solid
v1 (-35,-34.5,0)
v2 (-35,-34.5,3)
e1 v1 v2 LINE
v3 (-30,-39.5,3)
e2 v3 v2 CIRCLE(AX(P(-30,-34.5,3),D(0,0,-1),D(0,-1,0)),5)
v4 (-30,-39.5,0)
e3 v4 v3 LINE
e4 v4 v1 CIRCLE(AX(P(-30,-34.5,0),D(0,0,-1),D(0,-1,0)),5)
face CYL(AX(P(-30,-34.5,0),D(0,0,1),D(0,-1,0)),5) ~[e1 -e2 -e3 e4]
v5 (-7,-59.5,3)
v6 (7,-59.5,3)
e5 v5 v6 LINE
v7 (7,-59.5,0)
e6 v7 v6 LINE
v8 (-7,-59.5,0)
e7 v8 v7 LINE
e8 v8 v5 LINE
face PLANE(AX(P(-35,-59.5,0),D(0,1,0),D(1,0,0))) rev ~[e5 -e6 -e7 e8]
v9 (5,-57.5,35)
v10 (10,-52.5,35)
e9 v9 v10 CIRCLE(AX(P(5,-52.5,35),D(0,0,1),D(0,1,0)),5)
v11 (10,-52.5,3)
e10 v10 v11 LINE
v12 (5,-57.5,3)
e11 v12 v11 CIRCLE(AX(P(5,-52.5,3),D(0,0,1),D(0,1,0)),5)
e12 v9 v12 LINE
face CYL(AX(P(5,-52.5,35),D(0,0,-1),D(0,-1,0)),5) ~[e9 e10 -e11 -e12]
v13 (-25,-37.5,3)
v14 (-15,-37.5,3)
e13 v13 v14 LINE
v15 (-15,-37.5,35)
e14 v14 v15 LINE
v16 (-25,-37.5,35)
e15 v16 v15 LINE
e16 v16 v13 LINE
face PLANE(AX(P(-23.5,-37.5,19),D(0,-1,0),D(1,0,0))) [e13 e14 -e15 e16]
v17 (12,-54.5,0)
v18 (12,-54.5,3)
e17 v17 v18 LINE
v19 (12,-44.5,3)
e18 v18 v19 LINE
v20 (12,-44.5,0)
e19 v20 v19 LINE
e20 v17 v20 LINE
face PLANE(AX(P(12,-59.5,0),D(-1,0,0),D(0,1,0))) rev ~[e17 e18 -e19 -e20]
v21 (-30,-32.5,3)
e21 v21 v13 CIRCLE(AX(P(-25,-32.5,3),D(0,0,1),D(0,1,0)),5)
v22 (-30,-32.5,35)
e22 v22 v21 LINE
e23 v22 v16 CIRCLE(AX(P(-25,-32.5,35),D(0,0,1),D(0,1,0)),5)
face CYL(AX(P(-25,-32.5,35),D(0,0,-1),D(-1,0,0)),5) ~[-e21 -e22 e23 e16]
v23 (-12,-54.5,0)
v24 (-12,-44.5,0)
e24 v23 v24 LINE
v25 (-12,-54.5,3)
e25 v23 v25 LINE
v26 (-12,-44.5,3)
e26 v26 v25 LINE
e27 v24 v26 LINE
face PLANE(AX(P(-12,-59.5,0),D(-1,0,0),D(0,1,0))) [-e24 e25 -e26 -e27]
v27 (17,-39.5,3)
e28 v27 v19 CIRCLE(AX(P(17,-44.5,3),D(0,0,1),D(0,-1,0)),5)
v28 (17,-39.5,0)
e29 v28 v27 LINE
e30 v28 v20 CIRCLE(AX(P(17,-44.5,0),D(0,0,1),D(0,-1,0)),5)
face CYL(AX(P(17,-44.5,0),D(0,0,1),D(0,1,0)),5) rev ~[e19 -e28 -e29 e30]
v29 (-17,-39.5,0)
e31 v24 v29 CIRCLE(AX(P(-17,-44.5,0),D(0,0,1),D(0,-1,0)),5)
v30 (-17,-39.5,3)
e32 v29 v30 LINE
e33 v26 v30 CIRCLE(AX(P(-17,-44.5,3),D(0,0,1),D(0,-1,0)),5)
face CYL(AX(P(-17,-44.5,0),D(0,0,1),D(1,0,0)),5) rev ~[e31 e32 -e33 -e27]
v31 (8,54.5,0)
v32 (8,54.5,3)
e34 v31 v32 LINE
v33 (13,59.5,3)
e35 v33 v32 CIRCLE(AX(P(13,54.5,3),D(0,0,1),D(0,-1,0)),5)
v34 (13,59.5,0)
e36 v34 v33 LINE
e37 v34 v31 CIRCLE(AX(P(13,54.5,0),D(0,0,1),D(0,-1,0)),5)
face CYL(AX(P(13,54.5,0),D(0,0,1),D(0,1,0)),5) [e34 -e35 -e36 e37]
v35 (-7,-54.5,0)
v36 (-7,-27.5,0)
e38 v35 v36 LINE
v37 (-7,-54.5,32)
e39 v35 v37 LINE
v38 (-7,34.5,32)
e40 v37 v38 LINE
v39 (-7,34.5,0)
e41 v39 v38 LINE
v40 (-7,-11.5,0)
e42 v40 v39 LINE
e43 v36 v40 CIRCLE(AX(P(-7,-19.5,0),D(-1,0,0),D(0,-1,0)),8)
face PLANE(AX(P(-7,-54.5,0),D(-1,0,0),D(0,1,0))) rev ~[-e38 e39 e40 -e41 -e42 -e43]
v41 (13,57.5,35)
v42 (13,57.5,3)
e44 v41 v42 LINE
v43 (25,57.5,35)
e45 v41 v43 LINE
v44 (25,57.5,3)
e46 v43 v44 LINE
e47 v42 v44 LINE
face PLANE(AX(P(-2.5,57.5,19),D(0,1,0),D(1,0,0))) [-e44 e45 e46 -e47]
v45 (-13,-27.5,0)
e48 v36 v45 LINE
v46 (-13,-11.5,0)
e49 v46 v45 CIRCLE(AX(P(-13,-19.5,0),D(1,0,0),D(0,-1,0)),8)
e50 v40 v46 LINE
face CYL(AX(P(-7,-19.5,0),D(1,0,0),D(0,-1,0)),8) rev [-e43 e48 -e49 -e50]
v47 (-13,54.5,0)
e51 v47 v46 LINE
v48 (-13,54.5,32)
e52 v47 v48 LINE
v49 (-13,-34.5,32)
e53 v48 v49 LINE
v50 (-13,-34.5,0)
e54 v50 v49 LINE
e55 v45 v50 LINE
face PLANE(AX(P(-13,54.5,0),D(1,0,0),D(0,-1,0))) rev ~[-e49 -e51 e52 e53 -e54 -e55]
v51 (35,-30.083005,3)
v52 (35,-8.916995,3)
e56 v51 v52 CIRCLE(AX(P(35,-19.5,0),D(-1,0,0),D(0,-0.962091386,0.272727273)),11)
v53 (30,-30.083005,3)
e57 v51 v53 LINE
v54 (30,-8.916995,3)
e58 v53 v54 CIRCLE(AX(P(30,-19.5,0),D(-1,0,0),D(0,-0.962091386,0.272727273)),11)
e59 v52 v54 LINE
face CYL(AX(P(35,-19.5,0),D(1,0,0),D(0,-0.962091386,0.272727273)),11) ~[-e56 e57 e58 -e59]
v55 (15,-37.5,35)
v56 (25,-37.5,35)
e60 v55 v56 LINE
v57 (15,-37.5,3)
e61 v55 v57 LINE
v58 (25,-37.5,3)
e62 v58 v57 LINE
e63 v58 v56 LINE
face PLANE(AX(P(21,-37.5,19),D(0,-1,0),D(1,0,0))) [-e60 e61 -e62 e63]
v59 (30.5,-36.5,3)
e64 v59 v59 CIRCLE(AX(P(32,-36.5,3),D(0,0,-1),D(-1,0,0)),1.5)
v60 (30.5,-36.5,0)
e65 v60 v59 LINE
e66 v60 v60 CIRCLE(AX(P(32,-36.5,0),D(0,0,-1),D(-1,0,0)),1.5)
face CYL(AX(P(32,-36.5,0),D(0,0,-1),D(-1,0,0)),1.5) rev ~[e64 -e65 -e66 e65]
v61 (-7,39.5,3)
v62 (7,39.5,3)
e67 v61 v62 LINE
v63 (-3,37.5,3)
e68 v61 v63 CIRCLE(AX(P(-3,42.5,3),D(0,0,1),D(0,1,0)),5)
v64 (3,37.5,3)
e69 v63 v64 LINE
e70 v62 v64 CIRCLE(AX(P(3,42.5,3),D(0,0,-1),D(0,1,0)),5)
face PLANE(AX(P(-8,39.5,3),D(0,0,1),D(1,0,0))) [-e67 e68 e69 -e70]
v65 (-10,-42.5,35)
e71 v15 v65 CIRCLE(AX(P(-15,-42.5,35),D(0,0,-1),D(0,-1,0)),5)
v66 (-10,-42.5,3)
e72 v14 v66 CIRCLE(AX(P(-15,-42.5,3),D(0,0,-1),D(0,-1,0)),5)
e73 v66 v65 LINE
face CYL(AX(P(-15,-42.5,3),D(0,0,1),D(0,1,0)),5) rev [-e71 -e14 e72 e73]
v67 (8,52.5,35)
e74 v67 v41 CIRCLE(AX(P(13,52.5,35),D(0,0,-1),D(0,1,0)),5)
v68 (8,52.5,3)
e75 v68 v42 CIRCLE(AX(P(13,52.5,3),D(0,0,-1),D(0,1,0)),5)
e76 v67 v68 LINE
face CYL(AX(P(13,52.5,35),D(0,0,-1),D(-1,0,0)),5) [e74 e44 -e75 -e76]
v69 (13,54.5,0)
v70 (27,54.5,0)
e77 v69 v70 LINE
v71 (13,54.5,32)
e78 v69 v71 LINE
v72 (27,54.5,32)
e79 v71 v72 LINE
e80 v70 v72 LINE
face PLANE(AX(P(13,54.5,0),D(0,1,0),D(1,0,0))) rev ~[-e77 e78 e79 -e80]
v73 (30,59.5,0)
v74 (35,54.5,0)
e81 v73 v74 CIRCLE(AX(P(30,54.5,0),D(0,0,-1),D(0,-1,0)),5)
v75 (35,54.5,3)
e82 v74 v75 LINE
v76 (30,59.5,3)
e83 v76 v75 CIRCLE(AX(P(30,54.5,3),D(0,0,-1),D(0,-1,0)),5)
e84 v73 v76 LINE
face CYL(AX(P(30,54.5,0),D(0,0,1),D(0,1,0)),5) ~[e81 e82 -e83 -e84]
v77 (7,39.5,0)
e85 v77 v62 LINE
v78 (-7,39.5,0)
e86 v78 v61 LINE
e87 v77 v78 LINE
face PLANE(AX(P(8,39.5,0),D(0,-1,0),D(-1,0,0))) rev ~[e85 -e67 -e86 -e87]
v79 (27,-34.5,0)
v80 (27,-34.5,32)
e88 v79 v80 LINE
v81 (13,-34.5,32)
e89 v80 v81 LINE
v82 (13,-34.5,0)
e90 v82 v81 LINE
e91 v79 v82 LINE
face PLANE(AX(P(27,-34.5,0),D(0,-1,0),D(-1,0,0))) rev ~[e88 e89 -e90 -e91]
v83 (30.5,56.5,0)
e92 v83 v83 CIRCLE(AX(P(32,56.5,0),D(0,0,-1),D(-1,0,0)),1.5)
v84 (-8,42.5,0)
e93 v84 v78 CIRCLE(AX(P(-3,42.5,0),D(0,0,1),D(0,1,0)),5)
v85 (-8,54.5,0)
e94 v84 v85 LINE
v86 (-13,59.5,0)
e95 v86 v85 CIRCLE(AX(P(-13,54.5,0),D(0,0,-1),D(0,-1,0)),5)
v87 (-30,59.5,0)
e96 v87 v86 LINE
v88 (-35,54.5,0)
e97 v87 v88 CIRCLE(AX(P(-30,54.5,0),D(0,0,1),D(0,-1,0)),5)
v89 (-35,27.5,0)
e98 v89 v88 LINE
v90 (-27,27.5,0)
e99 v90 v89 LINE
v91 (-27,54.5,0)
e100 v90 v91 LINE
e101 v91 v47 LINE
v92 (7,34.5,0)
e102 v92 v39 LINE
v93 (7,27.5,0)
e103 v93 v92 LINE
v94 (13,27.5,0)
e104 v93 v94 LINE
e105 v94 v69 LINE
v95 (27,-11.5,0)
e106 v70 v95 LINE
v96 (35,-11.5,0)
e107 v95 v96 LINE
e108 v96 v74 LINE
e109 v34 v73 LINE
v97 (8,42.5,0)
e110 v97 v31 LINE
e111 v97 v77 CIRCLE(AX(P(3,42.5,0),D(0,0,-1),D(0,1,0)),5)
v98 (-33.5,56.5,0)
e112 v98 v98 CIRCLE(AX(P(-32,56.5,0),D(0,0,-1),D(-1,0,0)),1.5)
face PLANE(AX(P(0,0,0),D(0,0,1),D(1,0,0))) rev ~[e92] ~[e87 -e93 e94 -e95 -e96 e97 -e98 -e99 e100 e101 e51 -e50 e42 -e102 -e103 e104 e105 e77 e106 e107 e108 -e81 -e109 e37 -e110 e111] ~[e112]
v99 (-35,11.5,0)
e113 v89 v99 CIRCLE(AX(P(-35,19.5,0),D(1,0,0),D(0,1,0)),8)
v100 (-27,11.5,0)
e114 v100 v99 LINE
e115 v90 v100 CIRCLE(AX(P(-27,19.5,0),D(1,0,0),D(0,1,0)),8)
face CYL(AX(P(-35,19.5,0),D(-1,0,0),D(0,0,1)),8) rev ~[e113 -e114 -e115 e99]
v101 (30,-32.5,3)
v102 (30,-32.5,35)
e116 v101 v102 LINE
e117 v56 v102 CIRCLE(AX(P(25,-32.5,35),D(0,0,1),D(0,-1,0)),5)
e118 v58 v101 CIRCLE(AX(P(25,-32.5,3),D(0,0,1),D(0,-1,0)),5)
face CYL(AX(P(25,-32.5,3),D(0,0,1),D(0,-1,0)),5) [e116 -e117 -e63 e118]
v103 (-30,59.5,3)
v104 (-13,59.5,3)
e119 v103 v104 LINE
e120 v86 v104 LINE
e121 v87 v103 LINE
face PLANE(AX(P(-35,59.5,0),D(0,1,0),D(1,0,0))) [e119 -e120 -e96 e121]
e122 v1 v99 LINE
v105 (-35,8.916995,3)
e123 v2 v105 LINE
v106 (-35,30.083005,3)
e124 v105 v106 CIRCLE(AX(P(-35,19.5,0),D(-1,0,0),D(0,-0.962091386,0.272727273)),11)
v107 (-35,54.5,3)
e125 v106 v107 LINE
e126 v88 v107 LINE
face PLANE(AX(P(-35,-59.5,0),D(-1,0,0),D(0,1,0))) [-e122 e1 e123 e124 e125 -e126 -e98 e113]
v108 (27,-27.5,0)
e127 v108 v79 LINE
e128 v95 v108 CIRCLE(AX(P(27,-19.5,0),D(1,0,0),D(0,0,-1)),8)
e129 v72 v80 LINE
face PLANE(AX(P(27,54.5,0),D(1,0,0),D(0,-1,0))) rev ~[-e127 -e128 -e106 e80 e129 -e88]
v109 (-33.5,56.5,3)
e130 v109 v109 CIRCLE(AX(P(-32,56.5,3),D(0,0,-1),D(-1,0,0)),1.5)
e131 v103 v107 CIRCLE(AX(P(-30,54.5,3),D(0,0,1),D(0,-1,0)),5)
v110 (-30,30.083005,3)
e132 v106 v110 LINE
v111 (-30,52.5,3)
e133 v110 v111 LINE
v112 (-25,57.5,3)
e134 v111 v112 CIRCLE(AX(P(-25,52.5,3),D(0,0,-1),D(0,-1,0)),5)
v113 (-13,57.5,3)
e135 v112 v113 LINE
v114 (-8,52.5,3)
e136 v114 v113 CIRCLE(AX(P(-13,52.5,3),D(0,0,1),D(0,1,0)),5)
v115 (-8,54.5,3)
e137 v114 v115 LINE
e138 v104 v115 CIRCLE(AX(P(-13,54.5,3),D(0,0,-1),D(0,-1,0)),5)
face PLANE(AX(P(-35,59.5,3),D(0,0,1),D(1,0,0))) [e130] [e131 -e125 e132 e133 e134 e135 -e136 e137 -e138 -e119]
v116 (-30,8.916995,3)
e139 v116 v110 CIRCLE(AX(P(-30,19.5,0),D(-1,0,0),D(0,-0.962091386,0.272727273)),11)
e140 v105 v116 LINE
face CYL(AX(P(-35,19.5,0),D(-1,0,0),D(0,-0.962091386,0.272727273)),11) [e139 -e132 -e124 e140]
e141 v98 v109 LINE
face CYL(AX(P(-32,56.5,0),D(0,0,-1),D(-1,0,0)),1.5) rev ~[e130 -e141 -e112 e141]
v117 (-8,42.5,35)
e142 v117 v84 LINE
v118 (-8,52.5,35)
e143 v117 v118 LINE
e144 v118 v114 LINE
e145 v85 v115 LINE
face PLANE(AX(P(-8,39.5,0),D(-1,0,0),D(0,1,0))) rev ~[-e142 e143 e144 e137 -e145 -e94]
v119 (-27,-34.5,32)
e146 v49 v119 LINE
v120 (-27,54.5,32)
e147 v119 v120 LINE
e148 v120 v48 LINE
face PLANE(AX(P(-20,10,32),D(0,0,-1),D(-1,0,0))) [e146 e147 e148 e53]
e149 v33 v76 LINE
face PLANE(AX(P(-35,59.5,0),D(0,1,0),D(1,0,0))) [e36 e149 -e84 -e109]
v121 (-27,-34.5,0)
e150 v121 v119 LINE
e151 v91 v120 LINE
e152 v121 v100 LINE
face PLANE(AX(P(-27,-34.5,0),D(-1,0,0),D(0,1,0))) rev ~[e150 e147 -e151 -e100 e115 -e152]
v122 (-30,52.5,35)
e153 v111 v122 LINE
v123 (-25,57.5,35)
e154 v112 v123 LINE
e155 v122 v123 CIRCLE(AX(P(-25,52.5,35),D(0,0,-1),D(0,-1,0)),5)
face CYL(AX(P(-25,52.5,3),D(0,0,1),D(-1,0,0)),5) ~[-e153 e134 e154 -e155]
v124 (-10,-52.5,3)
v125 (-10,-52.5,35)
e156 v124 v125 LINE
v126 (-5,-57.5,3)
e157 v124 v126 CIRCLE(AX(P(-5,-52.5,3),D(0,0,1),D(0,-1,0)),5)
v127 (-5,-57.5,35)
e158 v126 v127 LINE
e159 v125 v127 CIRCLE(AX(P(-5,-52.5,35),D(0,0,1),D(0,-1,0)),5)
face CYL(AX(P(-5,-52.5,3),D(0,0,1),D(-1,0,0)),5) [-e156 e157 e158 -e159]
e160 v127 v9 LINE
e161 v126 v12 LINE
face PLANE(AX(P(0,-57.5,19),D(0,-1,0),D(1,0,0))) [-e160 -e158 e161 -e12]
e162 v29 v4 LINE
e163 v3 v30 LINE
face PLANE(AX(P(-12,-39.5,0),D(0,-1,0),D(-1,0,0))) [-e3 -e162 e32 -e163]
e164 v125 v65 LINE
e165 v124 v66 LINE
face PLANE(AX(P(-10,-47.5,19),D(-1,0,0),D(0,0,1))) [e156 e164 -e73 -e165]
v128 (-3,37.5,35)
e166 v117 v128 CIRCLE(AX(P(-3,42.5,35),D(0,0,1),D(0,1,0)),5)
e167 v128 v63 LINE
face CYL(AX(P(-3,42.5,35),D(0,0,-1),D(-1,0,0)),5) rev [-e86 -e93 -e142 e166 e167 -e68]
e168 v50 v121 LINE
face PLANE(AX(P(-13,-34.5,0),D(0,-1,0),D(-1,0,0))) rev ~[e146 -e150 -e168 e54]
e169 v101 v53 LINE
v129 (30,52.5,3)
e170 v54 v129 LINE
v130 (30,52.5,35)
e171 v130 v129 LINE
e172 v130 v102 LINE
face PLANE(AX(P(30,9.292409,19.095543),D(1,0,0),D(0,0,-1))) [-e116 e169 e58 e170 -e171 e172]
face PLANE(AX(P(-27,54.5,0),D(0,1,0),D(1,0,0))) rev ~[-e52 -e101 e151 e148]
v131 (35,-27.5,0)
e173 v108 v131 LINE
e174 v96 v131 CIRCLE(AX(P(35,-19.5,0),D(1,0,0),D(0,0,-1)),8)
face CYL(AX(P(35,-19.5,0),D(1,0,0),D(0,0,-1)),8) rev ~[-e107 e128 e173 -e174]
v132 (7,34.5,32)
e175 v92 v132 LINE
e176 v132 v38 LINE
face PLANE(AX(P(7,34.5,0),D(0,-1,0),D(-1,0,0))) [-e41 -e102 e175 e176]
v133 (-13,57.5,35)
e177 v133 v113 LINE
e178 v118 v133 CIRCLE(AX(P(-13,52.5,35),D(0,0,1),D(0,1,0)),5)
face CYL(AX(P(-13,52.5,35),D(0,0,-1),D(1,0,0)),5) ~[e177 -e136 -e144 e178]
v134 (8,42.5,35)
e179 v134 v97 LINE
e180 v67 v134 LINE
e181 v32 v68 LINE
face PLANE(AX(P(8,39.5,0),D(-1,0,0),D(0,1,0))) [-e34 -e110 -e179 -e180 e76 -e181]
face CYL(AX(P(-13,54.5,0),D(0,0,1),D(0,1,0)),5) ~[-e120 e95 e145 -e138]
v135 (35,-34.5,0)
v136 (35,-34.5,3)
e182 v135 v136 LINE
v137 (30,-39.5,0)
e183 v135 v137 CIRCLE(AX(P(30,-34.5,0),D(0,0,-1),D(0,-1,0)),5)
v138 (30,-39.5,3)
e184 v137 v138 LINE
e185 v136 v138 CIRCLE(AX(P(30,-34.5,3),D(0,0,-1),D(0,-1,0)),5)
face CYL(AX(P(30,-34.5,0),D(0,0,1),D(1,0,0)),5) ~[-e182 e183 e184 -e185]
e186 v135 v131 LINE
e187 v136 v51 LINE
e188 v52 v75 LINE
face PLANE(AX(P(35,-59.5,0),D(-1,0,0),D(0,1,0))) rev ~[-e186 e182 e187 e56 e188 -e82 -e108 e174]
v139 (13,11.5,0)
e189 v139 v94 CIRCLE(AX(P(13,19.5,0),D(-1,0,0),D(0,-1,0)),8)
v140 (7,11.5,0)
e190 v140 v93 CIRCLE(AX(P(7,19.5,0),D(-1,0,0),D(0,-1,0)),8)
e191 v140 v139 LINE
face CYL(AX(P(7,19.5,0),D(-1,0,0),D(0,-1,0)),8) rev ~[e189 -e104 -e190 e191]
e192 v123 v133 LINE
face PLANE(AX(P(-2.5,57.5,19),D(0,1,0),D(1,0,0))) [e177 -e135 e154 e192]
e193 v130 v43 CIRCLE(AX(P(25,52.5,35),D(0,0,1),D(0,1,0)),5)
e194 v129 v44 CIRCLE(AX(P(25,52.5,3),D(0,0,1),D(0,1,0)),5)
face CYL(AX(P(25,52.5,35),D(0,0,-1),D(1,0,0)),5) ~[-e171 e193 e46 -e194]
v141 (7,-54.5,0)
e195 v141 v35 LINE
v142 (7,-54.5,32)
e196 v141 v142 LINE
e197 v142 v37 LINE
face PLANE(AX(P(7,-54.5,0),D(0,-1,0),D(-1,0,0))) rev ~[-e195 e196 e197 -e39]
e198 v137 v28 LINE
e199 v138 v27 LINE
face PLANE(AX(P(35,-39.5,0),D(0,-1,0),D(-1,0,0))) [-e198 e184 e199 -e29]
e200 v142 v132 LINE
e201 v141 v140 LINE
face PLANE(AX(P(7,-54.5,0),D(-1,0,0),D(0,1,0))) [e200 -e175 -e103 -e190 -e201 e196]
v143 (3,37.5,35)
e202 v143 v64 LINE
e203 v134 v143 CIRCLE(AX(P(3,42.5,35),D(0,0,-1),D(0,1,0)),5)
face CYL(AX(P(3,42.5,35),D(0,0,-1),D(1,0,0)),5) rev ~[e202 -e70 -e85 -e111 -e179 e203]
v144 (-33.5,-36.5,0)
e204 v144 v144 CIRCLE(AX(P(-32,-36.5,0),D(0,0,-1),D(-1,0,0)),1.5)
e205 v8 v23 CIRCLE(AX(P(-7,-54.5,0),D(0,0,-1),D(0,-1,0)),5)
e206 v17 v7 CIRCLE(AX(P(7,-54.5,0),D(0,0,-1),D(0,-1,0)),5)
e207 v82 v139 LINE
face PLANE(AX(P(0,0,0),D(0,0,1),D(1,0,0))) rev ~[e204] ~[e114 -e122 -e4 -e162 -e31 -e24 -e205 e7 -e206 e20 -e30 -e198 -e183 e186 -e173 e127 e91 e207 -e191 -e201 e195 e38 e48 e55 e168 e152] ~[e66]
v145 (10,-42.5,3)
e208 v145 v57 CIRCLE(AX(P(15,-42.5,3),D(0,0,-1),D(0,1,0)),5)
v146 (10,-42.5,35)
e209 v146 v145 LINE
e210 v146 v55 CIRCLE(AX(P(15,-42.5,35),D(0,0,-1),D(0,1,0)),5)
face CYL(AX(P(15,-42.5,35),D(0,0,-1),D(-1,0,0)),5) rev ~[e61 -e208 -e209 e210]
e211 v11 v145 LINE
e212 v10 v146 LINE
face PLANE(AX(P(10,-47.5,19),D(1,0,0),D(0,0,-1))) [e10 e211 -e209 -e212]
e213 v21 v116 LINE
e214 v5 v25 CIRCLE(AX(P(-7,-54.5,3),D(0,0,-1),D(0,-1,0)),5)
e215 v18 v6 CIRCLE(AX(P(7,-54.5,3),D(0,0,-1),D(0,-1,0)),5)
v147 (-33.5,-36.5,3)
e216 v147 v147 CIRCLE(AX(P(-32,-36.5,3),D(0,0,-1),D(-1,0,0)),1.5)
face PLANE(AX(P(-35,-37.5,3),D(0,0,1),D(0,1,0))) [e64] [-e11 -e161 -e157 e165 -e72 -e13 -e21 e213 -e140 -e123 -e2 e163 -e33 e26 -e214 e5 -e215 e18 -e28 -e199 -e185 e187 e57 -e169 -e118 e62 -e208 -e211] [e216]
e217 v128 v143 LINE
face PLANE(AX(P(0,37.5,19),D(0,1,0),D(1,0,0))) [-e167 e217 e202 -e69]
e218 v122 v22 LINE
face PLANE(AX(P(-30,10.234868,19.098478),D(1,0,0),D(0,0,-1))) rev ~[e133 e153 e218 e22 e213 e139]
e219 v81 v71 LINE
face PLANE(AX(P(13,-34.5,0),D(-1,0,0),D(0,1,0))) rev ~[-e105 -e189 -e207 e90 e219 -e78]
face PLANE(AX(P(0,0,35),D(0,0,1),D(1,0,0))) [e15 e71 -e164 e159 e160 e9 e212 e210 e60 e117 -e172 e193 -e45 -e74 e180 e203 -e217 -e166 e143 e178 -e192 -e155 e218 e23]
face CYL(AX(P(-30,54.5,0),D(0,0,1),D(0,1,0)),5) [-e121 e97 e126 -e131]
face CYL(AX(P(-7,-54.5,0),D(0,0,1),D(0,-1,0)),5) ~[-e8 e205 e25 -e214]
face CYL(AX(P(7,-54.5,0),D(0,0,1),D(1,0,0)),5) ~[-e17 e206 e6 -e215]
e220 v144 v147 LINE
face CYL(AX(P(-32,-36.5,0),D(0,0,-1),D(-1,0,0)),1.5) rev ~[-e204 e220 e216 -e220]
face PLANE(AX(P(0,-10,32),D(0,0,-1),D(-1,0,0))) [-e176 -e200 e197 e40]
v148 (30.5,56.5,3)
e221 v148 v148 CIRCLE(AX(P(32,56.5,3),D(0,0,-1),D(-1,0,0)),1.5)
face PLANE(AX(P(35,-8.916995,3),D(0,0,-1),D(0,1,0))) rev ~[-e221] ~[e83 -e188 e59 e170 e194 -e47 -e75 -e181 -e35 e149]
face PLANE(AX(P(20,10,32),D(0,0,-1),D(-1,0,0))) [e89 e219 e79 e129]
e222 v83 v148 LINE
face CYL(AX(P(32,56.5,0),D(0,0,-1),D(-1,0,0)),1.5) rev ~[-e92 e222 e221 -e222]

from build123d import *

# Parameters (mm, degrees)
SKETCH1_W           = 70
SKETCH1_H           = 119
BOSS_EXTRUDE1_DEPTH = 35
SKETCH2_R           = 8
CUT_EXTRUDE1_DEPTH  = 8
SKETCH3_R           = 8
CUT_EXTRUDE2_DEPTH  = 8
SKETCH4_W           = 14
SKETCH4_H           = 89
CUT_EXTRUDE3_DEPTH  = 32
CUT_EXTRUDE4_REACH  = 82.804
CUT_EXTRUDE5_REACH  = 82.804
SKETCH7_W           = 23
SKETCH7_H           = 20
SKETCH7_W_2         = 16
CUT_EXTRUDE7_DEPTH  = 78.396705356
CUT_EXTRUDE8_DEPTH  = 5
SKETCH12_W          = 18
SKETCH12_H          = 32
CUT_EXTRUDE9_DEPTH  = 2
SKETCH13_W          = 24
SKETCH13_H          = 32
CUT_EXTRUDE10_DEPTH = 2
SKETCH14_W          = 23
SKETCH14_H          = 32
CUT_EXTRUDE11_DEPTH = 2
SKETCH15_W          = 32
SKETCH15_H          = 20
CUT_EXTRUDE12_DEPTH = 2
SKETCH16_W          = 32
SKETCH16_H          = 20
CUT_EXTRUDE13_DEPTH = 2
SKETCH17_W          = 65
SKETCH17_H          = 32
CUT_EXTRUDE15_DEPTH = 2
SKETCH18_W          = 16
SKETCH18_H          = 32
CUT_EXTRUDE16_DEPTH = 2
CUT_EXTRUDE17_DEPTH = 5
SKETCH21_R          = 1.5
CUT_EXTRUDE18_DEPTH = 10
FILLET1_R           = 5
FILLET2_R           = 5


with BuildPart() as part:
    # Sketch1 → Boss-Extrude1 (new body)
    with BuildSketch(Plane.XY):
        Rectangle(SKETCH1_W, SKETCH1_H)
    extrude(amount=BOSS_EXTRUDE1_DEPTH)

    # Sketch2 → Cut-Extrude1 (cut)
    with BuildSketch(Plane(origin=(35, 0, 0), x_dir=(0, 0, -1), z_dir=(1, 0, 0))):
        with Locations((0, -19.5)):
            Circle(SKETCH2_R)
    extrude(amount=-CUT_EXTRUDE1_DEPTH, mode=Mode.SUBTRACT)

    # Sketch3 → Cut-Extrude2 (cut)
    with BuildSketch(Plane.ZY.offset(35)):
        with Locations((0, 19.5)):
            Circle(SKETCH3_R)
    extrude(amount=-CUT_EXTRUDE2_DEPTH, mode=Mode.SUBTRACT)

    # Sketch4 → Cut-Extrude3 (cut)
    with BuildSketch(Plane(origin=(0, 0, 0), x_dir=(-1, 0, 0), z_dir=(0, 0, -1))):
        Polygon((-13, -34.5), (-13, 54.5), (-27, 54.5), (-27, -11.5), (-27, -27.5), (-27, -34.5), align=None)
        with Locations((0, -10)):
            Rectangle(SKETCH4_W, SKETCH4_H)
        Polygon((27, 54.5), (13, 54.5), (13, -34.5), (27, -34.5), (27, 11.5), (27, 27.5), align=None)
    extrude(amount=-CUT_EXTRUDE3_DEPTH, mode=Mode.SUBTRACT)

    # Sketch5 → Cut-Extrude4 (cut, up to next)
    with BuildSketch(Plane.ZY.offset(-7), mode=Mode.PRIVATE) as cut_extrude4_sk1:
        with BuildLine():
            Line((0, 27.5), (0, 11.5))
            ThreePointArc((0, 11.5), (8, 19.5), (0, 27.5))
        make_face()
    cut_extrude4_tool1 = extrude(cut_extrude4_sk1.sketch, amount=-CUT_EXTRUDE4_REACH, mode=Mode.PRIVATE) & part.part
    add(cut_extrude4_tool1.solids().sort_by_distance((7, 19.5, 3.395305))[0], mode=Mode.SUBTRACT)

    # Sketch6 → Cut-Extrude5 (cut, up to next)
    with BuildSketch(Plane(origin=(-7, 0, 0), x_dir=(0, 0, -1), z_dir=(1, 0, 0)), mode=Mode.PRIVATE) as cut_extrude5_sk1:
        with BuildLine():
            Line((0, -11.5), (0, -27.5))
            ThreePointArc((0, -27.5), (-8, -19.5), (0, -11.5))
        make_face()
    cut_extrude5_tool1 = extrude(cut_extrude5_sk1.sketch, amount=-CUT_EXTRUDE5_REACH, mode=Mode.PRIVATE) & part.part
    add(cut_extrude5_tool1.solids().sort_by_distance((-7, -19.5, 3.395305))[0], mode=Mode.SUBTRACT)

    # Sketch7 → Cut-Extrude7 (cut, through all)
    with BuildSketch(Plane(origin=(0, 0, 0), x_dir=(-1, 0, 0), z_dir=(0, 0, -1))):
        with Locations((23.5, -49.5)):
            Rectangle(SKETCH7_W, SKETCH7_H)
        with Locations((0, 49.5)):
            Rectangle(SKETCH7_W_2, SKETCH7_H)
        with Locations((-23.5, -49.5)):
            Rectangle(SKETCH7_W, SKETCH7_H)
    extrude(amount=-CUT_EXTRUDE7_DEPTH, mode=Mode.SUBTRACT)

    # Sketch11 → Cut-Extrude8 (cut)
    with BuildSketch(Plane(origin=(35, 0, 0), x_dir=(0, 0, -1), z_dir=(1, 0, 0))):
        with BuildLine():
            Line((-3, 59.5), (-35, 59.5))
            Line((-35, 59.5), (-35, -39.5))
            Line((-35, -39.5), (-3, -39.5))
            Line((-3, -39.5), (-3, -30.083005244))
            ThreePointArc((-3, -30.083005244), (-11, -19.5), (-3, -8.916994756))
            Line((-3, -8.916994756), (-3, 59.5))
        make_face()
    extrude(amount=-CUT_EXTRUDE8_DEPTH, mode=Mode.SUBTRACT)

    # Sketch12 → Cut-Extrude9 (cut)
    with BuildSketch(Plane.XZ.offset(39.5)):
        with Locations((21, 19)):
            Rectangle(SKETCH12_W, SKETCH12_H)
    extrude(amount=-CUT_EXTRUDE9_DEPTH, mode=Mode.SUBTRACT)

    # Sketch13 → Cut-Extrude10 (cut)
    with BuildSketch(Plane.XZ.offset(59.5)):
        with Locations((0, 19)):
            Rectangle(SKETCH13_W, SKETCH13_H)
    extrude(amount=-CUT_EXTRUDE10_DEPTH, mode=Mode.SUBTRACT)

    # Sketch14 → Cut-Extrude11 (cut)
    with BuildSketch(Plane.XZ.offset(39.5)):
        with Locations((-23.5, 19)):
            Rectangle(SKETCH14_W, SKETCH14_H)
    extrude(amount=-CUT_EXTRUDE11_DEPTH, mode=Mode.SUBTRACT)

    # Sketch15 → Cut-Extrude12 (cut)
    with BuildSketch(Plane.ZY.offset(12)):
        with Locations((19, -47.5)):
            Rectangle(SKETCH15_W, SKETCH15_H)
    extrude(amount=-CUT_EXTRUDE12_DEPTH, mode=Mode.SUBTRACT)

    # Sketch16 → Cut-Extrude13 (cut)
    with BuildSketch(Plane(origin=(12, 0, 0), x_dir=(0, 0, -1), z_dir=(1, 0, 0))):
        with Locations((-19, -47.5)):
            Rectangle(SKETCH16_W, SKETCH16_H)
    extrude(amount=-CUT_EXTRUDE13_DEPTH, mode=Mode.SUBTRACT)

    # Sketch17 → Cut-Extrude15 (cut)
    with BuildSketch(Plane(origin=(0, 59.5, 0), x_dir=(1, 0, 0), z_dir=(0, 1, 0))):
        with Locations((-2.5, -19)):
            Rectangle(SKETCH17_W, SKETCH17_H)
    extrude(amount=-CUT_EXTRUDE15_DEPTH, mode=Mode.SUBTRACT)

    # Sketch18 → Cut-Extrude16 (cut)
    with BuildSketch(Plane(origin=(0, 39.5, 0), x_dir=(1, 0, 0), z_dir=(0, 1, 0))):
        with Locations((0, -19)):
            Rectangle(SKETCH18_W, SKETCH18_H)
    extrude(amount=-CUT_EXTRUDE16_DEPTH, mode=Mode.SUBTRACT)

    # Sketch19 → Cut-Extrude17 (cut)
    with BuildSketch(Plane.ZY.offset(35)):
        with BuildLine():
            Line((3, 57.5), (35, 57.5))
            Line((35, 57.5), (35, -37.5))
            Line((35, -37.5), (3, -37.5))
            Line((3, -37.5), (3, 8.916994756))
            ThreePointArc((3, 8.916994756), (11, 19.5), (3, 30.083005244))
            Line((3, 30.083005244), (3, 57.5))
        make_face()
    extrude(amount=-CUT_EXTRUDE17_DEPTH, mode=Mode.SUBTRACT)

    # Sketch21 → Cut-Extrude18 (cut)
    with BuildSketch(Plane(origin=(0, 0, 0), x_dir=(-1, 0, 0), z_dir=(0, 0, -1))):
        with Locations((-32, 56.5)):
            Circle(SKETCH21_R)
        with Locations((32, 56.5)):
            Circle(SKETCH21_R)
        with Locations((-32, -36.5)):
            Circle(SKETCH21_R)
        with Locations((32, -36.5)):
            Circle(SKETCH21_R)
    extrude(amount=-CUT_EXTRUDE18_DEPTH, mode=Mode.SUBTRACT)

    # Fillet1
    fillet1_edges = [part.edges().sort_by_distance(p)[0] for p in [
        (-30, 57.5, 19),
        (-8, 57.5, 19),
        (-8, 37.5, 19),
        (8, 37.5, 19),
        (8, 57.5, 19),
        (30, 57.5, 19),
        (30, -37.5, 19),
        (10, -37.5, 19),
        (10, -57.5, 19),
        (-10, -37.5, 19),
        (-30, -37.5, 19),
        (-10, -57.5, 19),
    ]]
    fillet(fillet1_edges, radius=FILLET1_R)

    # Fillet2
    fillet2_edges = [part.edges().sort_by_distance(p)[0] for p in [
        (35, -39.5, 1.5),
        (35, 59.5, 1.5),
        (12, -39.5, 1.5),
        (12, -59.5, 1.5),
        (-12, -59.5, 1.5),
        (-12, -39.5, 1.5),
        (-35, -39.5, 1.5),
        (-8, 59.5, 1.5),
        (8, 59.5, 1.5),
        (-35, 59.5, 1.5),
    ]]
    fillet(fillet2_edges, radius=FILLET2_R)


solid = part.part
